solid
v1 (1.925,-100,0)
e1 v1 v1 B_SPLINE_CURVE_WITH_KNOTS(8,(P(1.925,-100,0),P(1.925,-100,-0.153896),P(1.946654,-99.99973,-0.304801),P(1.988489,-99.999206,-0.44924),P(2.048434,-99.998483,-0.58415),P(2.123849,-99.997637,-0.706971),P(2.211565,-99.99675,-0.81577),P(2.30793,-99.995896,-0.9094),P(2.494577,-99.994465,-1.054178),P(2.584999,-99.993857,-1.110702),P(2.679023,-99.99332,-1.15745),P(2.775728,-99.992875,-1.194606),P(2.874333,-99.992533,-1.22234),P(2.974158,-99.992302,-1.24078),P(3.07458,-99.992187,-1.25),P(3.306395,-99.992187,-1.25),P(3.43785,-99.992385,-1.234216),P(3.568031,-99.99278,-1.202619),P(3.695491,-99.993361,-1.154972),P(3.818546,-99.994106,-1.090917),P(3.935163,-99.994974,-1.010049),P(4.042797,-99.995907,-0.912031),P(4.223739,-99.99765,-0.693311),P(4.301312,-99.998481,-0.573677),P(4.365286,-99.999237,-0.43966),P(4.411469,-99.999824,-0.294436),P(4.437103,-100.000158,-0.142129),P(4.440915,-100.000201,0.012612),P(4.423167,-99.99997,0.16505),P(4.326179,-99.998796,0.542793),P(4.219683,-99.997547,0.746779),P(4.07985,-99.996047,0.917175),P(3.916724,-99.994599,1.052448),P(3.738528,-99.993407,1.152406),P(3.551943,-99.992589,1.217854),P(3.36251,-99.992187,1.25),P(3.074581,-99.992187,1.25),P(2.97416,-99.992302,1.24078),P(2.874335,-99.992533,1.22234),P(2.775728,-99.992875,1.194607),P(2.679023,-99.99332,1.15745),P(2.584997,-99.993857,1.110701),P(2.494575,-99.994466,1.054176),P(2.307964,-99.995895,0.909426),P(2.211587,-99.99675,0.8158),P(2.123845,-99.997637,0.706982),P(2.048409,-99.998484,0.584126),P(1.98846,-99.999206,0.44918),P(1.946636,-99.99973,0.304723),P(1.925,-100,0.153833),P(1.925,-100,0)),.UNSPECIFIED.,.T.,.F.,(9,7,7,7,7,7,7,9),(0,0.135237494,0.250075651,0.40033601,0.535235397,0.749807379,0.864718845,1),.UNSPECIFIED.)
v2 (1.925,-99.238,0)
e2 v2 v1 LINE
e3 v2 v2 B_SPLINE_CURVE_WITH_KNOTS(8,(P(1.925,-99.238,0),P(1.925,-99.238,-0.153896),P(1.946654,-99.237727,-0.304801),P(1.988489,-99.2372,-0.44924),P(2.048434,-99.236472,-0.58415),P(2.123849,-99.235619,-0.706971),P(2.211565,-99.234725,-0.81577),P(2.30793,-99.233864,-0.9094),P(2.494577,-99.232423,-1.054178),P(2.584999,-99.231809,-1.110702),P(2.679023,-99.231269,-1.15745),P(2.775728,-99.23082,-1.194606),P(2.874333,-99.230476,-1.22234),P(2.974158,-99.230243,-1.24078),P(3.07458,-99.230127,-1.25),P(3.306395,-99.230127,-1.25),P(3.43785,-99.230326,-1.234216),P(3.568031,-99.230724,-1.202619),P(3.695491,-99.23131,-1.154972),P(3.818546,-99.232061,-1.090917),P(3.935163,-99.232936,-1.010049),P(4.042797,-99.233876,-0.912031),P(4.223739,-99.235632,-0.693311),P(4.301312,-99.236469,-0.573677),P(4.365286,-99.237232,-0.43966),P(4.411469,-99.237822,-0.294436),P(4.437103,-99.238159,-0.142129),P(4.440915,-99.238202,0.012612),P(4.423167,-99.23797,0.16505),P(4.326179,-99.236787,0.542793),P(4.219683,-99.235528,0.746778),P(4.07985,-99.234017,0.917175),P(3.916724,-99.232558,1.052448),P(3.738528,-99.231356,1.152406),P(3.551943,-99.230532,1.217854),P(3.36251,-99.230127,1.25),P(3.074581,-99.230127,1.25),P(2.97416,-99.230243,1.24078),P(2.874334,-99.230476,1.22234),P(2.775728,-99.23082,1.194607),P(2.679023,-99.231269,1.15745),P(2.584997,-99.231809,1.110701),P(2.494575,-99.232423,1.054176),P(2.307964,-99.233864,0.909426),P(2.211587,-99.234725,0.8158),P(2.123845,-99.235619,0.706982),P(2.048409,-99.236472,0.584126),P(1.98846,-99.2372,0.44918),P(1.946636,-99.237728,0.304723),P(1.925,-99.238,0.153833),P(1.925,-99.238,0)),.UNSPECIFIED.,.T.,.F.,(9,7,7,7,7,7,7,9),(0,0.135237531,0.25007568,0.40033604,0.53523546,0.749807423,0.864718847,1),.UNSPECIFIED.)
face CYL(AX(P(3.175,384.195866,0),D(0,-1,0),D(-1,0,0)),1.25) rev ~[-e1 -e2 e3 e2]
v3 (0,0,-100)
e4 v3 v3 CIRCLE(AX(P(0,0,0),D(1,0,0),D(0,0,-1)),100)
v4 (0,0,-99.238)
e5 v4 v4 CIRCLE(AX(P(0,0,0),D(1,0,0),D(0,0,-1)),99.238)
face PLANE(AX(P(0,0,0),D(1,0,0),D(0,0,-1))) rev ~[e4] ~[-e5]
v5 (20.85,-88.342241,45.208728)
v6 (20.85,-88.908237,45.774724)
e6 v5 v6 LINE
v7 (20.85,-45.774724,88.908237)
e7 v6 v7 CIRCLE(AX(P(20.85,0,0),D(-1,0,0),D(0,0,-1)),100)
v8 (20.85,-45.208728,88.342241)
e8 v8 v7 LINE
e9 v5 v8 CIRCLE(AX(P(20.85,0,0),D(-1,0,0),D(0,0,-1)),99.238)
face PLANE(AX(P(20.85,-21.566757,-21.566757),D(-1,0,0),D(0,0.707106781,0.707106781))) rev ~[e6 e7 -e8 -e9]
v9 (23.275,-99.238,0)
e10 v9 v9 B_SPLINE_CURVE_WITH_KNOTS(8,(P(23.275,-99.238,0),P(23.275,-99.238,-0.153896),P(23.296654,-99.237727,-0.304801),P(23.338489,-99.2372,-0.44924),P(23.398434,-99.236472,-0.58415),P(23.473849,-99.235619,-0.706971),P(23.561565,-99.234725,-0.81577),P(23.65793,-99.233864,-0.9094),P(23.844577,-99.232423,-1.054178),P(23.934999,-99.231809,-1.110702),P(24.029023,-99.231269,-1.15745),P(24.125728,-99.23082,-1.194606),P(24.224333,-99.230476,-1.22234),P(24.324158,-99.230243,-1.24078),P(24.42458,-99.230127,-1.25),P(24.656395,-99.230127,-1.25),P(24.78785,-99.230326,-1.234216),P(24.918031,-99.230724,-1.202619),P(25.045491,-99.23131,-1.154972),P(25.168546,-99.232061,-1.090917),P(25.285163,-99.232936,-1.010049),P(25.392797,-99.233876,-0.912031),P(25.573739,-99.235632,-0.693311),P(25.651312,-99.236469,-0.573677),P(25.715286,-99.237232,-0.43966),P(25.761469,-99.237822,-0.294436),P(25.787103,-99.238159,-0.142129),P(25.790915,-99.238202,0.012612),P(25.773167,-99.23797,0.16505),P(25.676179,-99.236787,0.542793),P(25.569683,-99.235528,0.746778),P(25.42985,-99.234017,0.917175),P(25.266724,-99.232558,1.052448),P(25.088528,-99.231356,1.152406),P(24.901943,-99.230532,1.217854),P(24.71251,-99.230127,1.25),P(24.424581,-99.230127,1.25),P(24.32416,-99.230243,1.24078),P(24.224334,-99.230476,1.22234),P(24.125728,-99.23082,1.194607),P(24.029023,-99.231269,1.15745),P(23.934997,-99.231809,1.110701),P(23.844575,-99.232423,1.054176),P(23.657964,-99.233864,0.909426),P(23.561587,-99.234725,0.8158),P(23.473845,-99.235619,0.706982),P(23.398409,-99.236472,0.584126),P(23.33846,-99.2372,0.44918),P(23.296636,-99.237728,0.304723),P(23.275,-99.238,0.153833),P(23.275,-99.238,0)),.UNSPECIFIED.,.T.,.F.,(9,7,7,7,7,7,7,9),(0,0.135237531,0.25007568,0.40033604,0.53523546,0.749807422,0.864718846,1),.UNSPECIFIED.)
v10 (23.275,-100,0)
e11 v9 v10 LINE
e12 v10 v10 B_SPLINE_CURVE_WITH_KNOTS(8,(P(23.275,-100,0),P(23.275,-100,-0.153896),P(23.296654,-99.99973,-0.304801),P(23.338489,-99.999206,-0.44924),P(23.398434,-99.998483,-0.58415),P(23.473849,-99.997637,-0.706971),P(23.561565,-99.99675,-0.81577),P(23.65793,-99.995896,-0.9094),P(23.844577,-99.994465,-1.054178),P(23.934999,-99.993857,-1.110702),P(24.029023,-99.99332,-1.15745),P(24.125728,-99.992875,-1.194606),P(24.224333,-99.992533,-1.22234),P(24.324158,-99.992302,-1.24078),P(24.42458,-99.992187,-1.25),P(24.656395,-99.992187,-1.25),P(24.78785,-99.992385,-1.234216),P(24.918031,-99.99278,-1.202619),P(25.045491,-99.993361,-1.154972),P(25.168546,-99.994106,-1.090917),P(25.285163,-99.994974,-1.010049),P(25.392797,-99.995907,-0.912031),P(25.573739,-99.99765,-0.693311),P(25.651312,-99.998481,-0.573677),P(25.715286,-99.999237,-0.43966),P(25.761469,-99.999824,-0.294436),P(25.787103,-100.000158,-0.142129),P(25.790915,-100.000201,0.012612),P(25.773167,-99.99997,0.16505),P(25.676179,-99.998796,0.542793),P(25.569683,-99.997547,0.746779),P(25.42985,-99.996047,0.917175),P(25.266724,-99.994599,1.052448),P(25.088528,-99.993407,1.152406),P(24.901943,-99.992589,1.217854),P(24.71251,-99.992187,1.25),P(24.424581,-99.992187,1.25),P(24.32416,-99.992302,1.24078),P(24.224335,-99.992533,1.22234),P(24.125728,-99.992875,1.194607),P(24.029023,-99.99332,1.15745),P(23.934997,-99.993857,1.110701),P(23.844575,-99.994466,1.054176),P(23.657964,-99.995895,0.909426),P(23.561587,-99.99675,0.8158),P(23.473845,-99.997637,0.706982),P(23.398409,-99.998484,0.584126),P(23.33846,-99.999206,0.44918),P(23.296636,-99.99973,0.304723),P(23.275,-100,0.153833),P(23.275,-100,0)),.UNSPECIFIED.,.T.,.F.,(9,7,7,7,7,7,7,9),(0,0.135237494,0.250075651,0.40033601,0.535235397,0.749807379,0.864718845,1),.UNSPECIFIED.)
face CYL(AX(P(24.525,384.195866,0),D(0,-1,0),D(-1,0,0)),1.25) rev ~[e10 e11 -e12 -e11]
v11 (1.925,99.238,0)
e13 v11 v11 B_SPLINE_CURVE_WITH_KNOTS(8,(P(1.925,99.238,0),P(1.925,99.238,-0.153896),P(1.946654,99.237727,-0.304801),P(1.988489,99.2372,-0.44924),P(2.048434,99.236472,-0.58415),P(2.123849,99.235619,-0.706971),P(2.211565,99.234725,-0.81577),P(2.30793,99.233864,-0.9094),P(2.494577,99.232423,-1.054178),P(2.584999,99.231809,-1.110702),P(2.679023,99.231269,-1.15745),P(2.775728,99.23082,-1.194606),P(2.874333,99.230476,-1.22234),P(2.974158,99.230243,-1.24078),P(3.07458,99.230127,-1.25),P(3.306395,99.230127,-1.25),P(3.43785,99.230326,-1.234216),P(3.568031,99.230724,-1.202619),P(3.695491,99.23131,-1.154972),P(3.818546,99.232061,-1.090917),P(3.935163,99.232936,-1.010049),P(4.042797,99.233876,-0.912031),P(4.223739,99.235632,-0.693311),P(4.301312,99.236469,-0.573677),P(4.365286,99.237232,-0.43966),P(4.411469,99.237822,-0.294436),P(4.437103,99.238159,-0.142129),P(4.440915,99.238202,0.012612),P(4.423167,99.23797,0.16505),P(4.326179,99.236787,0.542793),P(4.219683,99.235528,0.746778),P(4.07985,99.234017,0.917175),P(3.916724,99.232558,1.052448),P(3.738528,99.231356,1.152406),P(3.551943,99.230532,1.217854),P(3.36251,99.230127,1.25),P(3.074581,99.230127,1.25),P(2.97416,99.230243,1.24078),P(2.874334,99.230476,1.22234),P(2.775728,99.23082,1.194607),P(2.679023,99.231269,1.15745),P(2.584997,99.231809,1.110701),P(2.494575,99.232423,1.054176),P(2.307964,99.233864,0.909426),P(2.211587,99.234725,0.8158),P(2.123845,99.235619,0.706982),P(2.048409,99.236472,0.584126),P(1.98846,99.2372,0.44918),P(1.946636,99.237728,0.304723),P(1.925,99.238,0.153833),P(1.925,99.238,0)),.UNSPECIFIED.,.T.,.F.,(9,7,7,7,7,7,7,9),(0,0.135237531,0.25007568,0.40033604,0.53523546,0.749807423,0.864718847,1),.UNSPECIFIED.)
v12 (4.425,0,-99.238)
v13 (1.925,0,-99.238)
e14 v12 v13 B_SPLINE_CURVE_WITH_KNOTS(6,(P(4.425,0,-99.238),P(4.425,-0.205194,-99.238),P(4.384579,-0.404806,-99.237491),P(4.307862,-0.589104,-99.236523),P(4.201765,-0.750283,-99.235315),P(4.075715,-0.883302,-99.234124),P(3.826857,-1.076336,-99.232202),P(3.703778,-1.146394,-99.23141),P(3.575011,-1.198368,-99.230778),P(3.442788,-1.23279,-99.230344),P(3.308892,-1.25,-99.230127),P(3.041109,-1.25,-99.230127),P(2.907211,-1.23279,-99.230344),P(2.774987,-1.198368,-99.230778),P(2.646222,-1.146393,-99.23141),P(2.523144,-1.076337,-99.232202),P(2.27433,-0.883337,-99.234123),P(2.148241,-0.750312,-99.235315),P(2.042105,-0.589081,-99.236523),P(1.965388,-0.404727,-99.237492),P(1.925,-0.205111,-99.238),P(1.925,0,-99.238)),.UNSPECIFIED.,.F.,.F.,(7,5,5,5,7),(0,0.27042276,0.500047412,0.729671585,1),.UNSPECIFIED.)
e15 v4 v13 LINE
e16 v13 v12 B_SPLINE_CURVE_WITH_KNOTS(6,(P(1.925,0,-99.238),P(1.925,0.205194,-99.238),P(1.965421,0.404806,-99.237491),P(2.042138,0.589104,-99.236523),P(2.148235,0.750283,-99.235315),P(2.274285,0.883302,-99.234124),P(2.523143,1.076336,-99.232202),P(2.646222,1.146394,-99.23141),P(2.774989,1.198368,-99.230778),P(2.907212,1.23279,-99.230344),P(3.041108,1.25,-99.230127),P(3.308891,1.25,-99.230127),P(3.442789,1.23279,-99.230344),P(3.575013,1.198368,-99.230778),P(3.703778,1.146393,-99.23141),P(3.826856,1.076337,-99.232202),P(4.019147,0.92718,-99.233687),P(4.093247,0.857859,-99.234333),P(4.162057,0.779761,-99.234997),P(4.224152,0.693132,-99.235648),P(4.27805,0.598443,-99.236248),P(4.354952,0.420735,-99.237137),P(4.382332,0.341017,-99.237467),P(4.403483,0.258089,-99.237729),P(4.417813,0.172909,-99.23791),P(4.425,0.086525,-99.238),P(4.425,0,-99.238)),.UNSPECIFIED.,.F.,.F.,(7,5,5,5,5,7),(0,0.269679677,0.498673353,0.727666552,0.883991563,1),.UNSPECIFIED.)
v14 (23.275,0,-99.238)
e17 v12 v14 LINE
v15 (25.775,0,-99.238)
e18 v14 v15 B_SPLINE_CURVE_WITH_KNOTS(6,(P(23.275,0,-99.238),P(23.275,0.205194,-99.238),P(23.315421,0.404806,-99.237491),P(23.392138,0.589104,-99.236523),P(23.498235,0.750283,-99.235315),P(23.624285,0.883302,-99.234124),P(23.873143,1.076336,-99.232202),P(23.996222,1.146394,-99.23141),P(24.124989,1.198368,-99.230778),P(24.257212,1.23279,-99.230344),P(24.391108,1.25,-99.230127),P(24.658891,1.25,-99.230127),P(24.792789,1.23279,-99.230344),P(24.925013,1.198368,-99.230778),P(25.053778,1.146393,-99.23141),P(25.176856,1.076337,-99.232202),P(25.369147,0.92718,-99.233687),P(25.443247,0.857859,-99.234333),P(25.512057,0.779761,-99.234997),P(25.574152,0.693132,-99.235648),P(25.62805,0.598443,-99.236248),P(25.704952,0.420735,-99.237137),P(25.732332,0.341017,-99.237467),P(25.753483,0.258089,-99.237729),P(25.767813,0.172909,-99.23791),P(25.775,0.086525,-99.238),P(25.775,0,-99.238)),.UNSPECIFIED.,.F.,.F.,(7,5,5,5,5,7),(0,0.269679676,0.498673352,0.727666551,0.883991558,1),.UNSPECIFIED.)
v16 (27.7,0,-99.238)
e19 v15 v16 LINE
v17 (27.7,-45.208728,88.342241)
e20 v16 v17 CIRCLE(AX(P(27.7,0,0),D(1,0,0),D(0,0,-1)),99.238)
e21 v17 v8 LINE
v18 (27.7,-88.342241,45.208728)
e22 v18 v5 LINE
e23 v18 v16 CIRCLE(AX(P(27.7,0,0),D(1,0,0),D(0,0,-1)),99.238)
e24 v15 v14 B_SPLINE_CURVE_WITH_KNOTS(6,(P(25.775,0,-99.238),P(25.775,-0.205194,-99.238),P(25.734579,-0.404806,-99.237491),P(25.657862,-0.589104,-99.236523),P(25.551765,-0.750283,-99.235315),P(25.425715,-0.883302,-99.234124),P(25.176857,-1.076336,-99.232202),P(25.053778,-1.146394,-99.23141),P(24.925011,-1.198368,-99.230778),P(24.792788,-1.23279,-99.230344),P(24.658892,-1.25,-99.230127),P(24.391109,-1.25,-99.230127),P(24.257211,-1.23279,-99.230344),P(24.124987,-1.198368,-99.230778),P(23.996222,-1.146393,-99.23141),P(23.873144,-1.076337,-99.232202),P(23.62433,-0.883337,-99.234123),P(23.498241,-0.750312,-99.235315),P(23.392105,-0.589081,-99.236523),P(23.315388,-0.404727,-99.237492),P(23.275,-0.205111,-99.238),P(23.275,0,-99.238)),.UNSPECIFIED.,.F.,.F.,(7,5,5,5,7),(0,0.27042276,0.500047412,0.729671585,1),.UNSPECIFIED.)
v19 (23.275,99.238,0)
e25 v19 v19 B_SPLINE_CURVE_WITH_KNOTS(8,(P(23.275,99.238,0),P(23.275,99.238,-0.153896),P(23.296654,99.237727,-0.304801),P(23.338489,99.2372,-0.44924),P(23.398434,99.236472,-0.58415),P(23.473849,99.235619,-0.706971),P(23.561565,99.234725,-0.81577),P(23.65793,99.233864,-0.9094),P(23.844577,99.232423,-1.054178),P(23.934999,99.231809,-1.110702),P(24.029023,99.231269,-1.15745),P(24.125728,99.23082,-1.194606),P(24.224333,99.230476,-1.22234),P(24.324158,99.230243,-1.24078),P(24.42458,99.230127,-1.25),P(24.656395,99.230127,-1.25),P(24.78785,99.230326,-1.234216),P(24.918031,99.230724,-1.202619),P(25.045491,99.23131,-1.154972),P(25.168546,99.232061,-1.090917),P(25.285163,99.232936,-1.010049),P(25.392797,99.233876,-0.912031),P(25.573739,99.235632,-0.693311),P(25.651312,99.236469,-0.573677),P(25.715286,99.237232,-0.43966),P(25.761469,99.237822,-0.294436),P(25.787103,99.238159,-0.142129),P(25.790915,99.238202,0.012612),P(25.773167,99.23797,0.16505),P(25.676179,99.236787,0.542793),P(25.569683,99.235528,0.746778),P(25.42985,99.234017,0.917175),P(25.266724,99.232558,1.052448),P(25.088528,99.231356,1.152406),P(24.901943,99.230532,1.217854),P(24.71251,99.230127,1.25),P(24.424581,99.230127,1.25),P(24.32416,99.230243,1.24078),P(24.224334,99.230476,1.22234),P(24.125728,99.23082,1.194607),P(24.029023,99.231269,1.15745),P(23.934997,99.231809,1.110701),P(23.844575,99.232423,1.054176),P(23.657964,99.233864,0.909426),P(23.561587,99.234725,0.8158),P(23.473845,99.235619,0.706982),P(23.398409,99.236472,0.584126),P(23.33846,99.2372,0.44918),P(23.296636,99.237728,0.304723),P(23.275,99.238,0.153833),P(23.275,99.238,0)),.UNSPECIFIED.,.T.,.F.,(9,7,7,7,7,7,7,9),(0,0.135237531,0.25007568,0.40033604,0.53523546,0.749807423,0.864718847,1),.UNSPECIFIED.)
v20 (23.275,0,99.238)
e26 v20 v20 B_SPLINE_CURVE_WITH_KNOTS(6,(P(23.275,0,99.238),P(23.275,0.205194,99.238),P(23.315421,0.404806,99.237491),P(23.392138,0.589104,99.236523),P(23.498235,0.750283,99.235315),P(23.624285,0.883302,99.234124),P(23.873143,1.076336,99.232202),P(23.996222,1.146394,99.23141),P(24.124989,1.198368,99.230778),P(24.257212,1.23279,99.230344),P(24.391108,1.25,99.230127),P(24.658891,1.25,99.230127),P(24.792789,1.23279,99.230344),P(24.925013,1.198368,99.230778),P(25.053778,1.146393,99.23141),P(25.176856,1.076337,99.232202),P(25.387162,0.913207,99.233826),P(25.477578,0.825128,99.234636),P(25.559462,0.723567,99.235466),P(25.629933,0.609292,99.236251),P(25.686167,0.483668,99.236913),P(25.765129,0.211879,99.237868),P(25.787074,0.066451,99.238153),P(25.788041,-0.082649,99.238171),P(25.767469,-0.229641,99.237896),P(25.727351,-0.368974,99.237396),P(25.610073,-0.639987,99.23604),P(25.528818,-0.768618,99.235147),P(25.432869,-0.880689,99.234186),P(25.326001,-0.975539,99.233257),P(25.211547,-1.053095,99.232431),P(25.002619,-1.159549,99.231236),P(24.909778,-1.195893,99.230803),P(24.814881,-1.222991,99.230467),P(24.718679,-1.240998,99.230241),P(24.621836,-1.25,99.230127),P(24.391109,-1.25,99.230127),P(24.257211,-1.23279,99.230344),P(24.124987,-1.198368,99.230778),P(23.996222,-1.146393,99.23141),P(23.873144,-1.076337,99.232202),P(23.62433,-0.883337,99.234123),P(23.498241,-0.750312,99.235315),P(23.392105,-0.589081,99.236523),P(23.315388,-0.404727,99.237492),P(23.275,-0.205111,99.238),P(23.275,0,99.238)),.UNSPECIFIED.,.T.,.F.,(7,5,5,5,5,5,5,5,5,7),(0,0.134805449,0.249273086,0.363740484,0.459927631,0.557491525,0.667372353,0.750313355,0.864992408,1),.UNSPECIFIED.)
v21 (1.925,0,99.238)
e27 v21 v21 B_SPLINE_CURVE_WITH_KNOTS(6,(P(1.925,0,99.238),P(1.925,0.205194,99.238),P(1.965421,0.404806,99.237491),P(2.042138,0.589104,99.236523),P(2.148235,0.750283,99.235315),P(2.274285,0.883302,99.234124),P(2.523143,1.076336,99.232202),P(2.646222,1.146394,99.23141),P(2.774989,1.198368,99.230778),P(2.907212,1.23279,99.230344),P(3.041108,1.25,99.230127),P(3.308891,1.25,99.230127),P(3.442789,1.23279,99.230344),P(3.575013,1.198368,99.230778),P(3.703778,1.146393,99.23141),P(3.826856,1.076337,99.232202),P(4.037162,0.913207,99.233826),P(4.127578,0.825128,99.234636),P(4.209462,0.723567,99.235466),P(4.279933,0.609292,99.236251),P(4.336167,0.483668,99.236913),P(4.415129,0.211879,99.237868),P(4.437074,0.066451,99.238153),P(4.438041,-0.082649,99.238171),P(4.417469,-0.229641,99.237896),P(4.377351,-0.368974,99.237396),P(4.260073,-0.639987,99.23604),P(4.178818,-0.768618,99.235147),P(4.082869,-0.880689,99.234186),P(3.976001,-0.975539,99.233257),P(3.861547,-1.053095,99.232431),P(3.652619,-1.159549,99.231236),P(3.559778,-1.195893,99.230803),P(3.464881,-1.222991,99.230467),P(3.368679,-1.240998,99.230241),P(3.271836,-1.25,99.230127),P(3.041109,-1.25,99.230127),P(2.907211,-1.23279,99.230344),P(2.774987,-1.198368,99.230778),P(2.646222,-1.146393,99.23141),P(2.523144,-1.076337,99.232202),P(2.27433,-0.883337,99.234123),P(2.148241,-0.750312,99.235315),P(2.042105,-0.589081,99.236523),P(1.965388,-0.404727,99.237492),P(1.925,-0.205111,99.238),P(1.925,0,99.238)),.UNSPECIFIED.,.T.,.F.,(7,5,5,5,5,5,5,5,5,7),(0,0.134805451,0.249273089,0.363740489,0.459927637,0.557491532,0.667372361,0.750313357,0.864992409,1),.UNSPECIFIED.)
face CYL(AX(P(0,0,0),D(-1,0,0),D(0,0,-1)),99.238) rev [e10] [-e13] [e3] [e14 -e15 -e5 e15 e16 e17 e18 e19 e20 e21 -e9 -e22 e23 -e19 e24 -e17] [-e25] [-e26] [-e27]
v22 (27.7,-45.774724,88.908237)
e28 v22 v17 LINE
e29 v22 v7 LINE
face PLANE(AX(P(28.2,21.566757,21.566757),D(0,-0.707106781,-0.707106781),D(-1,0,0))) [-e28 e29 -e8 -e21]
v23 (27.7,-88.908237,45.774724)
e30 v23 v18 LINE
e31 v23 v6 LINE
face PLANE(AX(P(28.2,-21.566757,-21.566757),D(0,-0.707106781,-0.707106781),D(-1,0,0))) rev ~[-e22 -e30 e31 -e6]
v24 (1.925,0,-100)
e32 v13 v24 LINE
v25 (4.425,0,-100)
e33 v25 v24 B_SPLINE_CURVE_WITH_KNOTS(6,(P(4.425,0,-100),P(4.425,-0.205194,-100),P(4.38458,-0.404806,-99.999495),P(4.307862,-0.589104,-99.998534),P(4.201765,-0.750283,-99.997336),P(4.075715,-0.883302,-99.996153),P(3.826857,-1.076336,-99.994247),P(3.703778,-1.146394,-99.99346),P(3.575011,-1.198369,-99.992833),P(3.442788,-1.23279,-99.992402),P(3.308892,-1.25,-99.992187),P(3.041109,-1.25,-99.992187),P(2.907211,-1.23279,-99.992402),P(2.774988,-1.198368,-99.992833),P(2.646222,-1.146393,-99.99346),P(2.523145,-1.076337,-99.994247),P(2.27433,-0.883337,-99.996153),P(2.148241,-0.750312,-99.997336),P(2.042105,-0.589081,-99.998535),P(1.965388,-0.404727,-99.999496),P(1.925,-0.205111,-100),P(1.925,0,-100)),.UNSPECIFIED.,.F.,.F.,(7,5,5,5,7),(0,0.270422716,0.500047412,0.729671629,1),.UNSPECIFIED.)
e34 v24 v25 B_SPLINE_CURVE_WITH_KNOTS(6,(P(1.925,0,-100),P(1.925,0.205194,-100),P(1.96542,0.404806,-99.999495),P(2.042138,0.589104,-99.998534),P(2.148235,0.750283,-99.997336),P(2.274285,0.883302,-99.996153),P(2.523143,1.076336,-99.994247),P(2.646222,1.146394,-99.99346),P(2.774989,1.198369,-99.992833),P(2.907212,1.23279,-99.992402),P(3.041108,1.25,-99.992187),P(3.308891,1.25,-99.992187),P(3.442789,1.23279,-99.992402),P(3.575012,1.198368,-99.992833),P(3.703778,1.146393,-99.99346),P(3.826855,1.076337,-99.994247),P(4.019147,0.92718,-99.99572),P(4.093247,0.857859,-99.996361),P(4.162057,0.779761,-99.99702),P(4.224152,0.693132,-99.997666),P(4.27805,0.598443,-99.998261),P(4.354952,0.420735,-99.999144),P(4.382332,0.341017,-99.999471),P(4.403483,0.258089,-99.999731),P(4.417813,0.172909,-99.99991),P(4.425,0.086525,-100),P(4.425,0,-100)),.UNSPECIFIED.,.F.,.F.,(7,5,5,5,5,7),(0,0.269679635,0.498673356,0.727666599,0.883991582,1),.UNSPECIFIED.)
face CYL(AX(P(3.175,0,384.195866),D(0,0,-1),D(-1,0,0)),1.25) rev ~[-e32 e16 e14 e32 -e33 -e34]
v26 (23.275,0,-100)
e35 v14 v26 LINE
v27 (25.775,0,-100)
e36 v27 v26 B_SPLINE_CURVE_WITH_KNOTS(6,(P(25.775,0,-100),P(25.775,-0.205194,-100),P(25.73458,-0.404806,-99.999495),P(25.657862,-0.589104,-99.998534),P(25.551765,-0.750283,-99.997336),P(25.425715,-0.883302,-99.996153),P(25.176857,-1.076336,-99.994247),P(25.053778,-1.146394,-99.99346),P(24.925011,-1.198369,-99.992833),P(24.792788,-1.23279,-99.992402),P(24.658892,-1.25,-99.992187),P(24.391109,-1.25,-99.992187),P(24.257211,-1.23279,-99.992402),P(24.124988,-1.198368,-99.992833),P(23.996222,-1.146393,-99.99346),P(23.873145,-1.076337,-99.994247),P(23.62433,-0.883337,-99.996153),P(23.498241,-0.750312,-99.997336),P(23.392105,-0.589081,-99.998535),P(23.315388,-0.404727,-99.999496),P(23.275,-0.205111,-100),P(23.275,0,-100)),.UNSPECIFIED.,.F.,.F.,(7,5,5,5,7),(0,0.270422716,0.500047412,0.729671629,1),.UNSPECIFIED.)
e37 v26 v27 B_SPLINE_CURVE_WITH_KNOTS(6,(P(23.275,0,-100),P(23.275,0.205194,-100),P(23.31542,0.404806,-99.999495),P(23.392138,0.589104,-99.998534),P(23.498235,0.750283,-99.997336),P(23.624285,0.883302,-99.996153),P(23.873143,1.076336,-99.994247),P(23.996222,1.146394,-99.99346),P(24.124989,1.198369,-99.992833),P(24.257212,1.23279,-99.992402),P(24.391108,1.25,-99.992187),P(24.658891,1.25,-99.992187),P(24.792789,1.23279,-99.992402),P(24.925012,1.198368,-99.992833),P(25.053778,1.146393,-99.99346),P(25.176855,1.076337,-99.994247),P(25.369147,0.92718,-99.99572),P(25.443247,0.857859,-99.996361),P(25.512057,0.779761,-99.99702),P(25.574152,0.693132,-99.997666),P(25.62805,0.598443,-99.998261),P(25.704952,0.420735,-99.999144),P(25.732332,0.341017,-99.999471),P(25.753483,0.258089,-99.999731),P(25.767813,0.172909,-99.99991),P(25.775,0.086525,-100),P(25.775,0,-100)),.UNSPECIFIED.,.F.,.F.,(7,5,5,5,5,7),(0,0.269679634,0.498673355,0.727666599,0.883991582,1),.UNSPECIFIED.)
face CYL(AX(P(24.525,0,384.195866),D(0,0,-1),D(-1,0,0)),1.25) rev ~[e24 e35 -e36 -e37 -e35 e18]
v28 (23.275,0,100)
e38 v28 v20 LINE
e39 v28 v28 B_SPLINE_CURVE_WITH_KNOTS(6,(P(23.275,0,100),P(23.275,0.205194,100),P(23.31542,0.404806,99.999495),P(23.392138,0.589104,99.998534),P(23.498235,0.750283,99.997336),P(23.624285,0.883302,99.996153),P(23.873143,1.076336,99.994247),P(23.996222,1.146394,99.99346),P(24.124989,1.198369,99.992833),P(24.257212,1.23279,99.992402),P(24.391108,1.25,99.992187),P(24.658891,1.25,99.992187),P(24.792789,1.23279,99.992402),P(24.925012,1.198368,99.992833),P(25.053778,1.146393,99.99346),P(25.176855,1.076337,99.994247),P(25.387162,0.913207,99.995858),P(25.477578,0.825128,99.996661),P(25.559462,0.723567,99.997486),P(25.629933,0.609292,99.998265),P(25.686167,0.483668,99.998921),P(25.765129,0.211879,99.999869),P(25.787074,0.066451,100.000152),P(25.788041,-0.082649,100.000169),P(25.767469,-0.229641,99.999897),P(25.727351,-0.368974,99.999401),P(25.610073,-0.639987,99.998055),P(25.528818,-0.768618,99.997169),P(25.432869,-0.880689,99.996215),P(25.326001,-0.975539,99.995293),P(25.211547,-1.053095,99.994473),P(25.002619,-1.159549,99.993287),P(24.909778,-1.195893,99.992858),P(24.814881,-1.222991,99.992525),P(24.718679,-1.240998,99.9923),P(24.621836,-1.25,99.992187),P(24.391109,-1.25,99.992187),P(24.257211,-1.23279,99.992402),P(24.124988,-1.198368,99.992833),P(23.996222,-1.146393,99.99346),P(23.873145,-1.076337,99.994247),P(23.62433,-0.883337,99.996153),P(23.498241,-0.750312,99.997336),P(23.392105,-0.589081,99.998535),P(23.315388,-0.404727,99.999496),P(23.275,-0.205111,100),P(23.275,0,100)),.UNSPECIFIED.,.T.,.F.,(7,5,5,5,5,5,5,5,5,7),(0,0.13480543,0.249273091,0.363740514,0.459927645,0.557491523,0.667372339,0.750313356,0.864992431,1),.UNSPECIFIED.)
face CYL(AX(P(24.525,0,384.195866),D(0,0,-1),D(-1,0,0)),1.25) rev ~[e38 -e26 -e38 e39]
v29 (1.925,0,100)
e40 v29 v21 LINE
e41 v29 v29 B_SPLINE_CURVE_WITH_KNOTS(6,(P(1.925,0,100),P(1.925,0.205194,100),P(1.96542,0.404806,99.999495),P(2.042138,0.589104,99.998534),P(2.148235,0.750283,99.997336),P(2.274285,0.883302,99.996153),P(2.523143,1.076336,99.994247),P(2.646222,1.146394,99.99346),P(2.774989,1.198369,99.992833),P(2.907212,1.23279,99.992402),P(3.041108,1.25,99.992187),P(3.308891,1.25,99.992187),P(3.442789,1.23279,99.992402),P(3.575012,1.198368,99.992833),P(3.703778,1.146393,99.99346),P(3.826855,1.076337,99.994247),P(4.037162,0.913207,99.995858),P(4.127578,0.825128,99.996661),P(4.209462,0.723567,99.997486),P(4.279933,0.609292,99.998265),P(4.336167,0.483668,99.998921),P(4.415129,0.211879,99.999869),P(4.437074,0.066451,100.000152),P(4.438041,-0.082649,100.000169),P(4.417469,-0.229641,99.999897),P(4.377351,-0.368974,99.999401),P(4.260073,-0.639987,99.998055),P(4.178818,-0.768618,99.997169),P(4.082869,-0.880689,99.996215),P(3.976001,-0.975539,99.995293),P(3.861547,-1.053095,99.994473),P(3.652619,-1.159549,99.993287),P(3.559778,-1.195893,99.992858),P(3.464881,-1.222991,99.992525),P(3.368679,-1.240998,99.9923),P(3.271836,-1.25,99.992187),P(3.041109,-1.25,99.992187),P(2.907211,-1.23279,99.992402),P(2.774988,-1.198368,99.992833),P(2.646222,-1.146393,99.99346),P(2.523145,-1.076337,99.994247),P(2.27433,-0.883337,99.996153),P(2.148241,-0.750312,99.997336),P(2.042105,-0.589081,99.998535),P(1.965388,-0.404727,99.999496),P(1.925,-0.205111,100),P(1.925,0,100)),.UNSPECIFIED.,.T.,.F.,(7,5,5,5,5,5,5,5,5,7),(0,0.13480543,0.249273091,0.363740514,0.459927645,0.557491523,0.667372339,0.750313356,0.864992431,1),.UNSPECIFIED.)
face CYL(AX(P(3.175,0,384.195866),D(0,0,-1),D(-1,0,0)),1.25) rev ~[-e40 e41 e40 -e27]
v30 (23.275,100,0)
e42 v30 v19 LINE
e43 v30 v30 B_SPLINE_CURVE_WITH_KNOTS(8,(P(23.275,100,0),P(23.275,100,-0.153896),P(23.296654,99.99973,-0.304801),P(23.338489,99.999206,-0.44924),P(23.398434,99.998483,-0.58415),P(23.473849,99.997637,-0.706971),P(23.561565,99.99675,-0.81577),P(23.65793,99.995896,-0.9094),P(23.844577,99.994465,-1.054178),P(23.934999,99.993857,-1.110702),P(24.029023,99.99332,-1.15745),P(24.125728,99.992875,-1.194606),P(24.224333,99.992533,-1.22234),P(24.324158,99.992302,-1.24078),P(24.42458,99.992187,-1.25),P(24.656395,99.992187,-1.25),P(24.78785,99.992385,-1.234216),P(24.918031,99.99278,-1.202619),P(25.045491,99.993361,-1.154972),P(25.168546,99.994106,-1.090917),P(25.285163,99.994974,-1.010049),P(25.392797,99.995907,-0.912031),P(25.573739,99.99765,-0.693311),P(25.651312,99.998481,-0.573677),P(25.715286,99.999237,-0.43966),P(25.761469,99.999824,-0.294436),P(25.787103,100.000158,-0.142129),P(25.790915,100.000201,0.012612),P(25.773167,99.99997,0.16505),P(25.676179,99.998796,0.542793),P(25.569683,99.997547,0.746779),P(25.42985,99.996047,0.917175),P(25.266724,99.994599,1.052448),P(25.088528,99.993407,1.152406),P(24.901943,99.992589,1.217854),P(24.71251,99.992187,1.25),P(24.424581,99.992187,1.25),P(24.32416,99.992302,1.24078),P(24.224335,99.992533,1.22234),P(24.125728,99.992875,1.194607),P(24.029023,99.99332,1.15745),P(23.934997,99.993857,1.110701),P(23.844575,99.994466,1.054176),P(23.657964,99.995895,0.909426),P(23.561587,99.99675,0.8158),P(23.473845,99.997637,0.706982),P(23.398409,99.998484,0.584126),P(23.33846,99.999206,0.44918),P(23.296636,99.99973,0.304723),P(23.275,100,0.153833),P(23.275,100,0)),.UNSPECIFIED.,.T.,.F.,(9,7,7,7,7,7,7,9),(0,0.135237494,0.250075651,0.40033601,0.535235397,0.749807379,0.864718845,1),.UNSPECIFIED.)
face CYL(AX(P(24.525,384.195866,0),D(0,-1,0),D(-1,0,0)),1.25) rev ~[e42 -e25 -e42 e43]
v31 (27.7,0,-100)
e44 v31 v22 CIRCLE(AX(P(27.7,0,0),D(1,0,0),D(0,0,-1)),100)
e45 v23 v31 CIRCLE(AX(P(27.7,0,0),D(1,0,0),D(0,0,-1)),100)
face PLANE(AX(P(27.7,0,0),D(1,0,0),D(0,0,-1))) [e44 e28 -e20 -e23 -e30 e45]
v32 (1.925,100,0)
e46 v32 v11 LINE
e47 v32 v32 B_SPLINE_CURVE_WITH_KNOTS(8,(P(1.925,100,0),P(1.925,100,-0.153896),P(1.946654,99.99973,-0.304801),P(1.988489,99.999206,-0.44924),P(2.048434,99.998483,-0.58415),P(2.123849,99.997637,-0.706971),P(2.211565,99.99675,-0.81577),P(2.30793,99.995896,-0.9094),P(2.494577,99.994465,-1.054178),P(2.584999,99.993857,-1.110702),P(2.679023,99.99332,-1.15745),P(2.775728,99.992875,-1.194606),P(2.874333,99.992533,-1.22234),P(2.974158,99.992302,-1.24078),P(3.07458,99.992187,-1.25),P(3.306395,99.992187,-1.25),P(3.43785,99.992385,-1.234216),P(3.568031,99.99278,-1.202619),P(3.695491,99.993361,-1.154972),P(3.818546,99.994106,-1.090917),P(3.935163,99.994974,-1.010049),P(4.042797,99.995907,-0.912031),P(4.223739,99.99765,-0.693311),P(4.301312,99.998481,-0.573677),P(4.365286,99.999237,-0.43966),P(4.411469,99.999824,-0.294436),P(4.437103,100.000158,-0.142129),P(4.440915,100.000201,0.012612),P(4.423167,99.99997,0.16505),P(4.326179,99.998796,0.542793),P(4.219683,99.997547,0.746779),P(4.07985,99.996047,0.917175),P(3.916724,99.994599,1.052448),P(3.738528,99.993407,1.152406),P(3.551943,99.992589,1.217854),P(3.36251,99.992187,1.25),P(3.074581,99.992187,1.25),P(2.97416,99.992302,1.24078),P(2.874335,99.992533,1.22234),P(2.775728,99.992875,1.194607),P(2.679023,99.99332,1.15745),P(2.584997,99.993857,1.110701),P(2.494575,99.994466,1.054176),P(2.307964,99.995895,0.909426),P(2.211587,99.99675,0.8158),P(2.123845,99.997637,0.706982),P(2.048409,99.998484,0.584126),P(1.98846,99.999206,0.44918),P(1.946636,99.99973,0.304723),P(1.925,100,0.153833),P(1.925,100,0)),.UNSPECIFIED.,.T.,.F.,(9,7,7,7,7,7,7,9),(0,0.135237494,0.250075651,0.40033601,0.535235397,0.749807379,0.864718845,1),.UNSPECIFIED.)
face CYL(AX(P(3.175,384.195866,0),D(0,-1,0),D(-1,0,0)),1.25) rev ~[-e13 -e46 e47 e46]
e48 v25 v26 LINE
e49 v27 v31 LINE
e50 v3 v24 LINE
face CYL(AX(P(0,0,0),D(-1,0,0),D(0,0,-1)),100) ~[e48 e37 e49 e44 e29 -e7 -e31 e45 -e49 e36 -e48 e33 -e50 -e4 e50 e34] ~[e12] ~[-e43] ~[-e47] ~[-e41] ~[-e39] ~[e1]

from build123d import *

# Parameters (mm, degrees)
SKETCH1_R             = 100
SKETCH1_R_2           = 99.238
BOSS_EXTRUDE1_DEPTH   = 27.7
F_2_5MM_DOWEL_HOLE1_D = 2.5
F_2_5MM_DOWEL_HOLE2_D = 2.5
SKETCH6_W             = 7.35
SKETCH6_H             = 61
CUT_EXTRUDE1_DEPTH    = 145.108605038


with BuildPart() as part:
    # Sketch1 → Boss-Extrude1 (new body)
    with BuildSketch(Plane(origin=(0, 0, 0), x_dir=(0, 0, -1), z_dir=(1, 0, 0))):
        Circle(SKETCH1_R)
        Circle(SKETCH1_R_2, mode=Mode.SUBTRACT)
    extrude(amount=BOSS_EXTRUDE1_DEPTH)

    # Ø2.5mm Dowel Hole1 (through all)
    with Locations(Plane.XY.offset(100)):
        with Locations((24.525, 0), (3.175, 0)):
            Hole(F_2_5MM_DOWEL_HOLE1_D / 2)

    # Ø2.5mm Dowel Hole2 (through all)
    with Locations(Plane(origin=(0, 100, 0), x_dir=(1, 0, 0), z_dir=(0, 1, 0))):
        with Locations((24.525, 0), (3.175, 0)):
            Hole(F_2_5MM_DOWEL_HOLE2_D / 2)

    # Sketch6 → Cut-Extrude1 (cut, through all)
    with BuildSketch(Plane(origin=(0, 0, 0), x_dir=(-1, 0, 0), z_dir=(0, 0.7071067811865475, -0.7071067811865477))):
        with Locations((-24.525, 0)):
            Rectangle(SKETCH6_W, SKETCH6_H)
    extrude(amount=-CUT_EXTRUDE1_DEPTH, mode=Mode.SUBTRACT)


solid = part.part
